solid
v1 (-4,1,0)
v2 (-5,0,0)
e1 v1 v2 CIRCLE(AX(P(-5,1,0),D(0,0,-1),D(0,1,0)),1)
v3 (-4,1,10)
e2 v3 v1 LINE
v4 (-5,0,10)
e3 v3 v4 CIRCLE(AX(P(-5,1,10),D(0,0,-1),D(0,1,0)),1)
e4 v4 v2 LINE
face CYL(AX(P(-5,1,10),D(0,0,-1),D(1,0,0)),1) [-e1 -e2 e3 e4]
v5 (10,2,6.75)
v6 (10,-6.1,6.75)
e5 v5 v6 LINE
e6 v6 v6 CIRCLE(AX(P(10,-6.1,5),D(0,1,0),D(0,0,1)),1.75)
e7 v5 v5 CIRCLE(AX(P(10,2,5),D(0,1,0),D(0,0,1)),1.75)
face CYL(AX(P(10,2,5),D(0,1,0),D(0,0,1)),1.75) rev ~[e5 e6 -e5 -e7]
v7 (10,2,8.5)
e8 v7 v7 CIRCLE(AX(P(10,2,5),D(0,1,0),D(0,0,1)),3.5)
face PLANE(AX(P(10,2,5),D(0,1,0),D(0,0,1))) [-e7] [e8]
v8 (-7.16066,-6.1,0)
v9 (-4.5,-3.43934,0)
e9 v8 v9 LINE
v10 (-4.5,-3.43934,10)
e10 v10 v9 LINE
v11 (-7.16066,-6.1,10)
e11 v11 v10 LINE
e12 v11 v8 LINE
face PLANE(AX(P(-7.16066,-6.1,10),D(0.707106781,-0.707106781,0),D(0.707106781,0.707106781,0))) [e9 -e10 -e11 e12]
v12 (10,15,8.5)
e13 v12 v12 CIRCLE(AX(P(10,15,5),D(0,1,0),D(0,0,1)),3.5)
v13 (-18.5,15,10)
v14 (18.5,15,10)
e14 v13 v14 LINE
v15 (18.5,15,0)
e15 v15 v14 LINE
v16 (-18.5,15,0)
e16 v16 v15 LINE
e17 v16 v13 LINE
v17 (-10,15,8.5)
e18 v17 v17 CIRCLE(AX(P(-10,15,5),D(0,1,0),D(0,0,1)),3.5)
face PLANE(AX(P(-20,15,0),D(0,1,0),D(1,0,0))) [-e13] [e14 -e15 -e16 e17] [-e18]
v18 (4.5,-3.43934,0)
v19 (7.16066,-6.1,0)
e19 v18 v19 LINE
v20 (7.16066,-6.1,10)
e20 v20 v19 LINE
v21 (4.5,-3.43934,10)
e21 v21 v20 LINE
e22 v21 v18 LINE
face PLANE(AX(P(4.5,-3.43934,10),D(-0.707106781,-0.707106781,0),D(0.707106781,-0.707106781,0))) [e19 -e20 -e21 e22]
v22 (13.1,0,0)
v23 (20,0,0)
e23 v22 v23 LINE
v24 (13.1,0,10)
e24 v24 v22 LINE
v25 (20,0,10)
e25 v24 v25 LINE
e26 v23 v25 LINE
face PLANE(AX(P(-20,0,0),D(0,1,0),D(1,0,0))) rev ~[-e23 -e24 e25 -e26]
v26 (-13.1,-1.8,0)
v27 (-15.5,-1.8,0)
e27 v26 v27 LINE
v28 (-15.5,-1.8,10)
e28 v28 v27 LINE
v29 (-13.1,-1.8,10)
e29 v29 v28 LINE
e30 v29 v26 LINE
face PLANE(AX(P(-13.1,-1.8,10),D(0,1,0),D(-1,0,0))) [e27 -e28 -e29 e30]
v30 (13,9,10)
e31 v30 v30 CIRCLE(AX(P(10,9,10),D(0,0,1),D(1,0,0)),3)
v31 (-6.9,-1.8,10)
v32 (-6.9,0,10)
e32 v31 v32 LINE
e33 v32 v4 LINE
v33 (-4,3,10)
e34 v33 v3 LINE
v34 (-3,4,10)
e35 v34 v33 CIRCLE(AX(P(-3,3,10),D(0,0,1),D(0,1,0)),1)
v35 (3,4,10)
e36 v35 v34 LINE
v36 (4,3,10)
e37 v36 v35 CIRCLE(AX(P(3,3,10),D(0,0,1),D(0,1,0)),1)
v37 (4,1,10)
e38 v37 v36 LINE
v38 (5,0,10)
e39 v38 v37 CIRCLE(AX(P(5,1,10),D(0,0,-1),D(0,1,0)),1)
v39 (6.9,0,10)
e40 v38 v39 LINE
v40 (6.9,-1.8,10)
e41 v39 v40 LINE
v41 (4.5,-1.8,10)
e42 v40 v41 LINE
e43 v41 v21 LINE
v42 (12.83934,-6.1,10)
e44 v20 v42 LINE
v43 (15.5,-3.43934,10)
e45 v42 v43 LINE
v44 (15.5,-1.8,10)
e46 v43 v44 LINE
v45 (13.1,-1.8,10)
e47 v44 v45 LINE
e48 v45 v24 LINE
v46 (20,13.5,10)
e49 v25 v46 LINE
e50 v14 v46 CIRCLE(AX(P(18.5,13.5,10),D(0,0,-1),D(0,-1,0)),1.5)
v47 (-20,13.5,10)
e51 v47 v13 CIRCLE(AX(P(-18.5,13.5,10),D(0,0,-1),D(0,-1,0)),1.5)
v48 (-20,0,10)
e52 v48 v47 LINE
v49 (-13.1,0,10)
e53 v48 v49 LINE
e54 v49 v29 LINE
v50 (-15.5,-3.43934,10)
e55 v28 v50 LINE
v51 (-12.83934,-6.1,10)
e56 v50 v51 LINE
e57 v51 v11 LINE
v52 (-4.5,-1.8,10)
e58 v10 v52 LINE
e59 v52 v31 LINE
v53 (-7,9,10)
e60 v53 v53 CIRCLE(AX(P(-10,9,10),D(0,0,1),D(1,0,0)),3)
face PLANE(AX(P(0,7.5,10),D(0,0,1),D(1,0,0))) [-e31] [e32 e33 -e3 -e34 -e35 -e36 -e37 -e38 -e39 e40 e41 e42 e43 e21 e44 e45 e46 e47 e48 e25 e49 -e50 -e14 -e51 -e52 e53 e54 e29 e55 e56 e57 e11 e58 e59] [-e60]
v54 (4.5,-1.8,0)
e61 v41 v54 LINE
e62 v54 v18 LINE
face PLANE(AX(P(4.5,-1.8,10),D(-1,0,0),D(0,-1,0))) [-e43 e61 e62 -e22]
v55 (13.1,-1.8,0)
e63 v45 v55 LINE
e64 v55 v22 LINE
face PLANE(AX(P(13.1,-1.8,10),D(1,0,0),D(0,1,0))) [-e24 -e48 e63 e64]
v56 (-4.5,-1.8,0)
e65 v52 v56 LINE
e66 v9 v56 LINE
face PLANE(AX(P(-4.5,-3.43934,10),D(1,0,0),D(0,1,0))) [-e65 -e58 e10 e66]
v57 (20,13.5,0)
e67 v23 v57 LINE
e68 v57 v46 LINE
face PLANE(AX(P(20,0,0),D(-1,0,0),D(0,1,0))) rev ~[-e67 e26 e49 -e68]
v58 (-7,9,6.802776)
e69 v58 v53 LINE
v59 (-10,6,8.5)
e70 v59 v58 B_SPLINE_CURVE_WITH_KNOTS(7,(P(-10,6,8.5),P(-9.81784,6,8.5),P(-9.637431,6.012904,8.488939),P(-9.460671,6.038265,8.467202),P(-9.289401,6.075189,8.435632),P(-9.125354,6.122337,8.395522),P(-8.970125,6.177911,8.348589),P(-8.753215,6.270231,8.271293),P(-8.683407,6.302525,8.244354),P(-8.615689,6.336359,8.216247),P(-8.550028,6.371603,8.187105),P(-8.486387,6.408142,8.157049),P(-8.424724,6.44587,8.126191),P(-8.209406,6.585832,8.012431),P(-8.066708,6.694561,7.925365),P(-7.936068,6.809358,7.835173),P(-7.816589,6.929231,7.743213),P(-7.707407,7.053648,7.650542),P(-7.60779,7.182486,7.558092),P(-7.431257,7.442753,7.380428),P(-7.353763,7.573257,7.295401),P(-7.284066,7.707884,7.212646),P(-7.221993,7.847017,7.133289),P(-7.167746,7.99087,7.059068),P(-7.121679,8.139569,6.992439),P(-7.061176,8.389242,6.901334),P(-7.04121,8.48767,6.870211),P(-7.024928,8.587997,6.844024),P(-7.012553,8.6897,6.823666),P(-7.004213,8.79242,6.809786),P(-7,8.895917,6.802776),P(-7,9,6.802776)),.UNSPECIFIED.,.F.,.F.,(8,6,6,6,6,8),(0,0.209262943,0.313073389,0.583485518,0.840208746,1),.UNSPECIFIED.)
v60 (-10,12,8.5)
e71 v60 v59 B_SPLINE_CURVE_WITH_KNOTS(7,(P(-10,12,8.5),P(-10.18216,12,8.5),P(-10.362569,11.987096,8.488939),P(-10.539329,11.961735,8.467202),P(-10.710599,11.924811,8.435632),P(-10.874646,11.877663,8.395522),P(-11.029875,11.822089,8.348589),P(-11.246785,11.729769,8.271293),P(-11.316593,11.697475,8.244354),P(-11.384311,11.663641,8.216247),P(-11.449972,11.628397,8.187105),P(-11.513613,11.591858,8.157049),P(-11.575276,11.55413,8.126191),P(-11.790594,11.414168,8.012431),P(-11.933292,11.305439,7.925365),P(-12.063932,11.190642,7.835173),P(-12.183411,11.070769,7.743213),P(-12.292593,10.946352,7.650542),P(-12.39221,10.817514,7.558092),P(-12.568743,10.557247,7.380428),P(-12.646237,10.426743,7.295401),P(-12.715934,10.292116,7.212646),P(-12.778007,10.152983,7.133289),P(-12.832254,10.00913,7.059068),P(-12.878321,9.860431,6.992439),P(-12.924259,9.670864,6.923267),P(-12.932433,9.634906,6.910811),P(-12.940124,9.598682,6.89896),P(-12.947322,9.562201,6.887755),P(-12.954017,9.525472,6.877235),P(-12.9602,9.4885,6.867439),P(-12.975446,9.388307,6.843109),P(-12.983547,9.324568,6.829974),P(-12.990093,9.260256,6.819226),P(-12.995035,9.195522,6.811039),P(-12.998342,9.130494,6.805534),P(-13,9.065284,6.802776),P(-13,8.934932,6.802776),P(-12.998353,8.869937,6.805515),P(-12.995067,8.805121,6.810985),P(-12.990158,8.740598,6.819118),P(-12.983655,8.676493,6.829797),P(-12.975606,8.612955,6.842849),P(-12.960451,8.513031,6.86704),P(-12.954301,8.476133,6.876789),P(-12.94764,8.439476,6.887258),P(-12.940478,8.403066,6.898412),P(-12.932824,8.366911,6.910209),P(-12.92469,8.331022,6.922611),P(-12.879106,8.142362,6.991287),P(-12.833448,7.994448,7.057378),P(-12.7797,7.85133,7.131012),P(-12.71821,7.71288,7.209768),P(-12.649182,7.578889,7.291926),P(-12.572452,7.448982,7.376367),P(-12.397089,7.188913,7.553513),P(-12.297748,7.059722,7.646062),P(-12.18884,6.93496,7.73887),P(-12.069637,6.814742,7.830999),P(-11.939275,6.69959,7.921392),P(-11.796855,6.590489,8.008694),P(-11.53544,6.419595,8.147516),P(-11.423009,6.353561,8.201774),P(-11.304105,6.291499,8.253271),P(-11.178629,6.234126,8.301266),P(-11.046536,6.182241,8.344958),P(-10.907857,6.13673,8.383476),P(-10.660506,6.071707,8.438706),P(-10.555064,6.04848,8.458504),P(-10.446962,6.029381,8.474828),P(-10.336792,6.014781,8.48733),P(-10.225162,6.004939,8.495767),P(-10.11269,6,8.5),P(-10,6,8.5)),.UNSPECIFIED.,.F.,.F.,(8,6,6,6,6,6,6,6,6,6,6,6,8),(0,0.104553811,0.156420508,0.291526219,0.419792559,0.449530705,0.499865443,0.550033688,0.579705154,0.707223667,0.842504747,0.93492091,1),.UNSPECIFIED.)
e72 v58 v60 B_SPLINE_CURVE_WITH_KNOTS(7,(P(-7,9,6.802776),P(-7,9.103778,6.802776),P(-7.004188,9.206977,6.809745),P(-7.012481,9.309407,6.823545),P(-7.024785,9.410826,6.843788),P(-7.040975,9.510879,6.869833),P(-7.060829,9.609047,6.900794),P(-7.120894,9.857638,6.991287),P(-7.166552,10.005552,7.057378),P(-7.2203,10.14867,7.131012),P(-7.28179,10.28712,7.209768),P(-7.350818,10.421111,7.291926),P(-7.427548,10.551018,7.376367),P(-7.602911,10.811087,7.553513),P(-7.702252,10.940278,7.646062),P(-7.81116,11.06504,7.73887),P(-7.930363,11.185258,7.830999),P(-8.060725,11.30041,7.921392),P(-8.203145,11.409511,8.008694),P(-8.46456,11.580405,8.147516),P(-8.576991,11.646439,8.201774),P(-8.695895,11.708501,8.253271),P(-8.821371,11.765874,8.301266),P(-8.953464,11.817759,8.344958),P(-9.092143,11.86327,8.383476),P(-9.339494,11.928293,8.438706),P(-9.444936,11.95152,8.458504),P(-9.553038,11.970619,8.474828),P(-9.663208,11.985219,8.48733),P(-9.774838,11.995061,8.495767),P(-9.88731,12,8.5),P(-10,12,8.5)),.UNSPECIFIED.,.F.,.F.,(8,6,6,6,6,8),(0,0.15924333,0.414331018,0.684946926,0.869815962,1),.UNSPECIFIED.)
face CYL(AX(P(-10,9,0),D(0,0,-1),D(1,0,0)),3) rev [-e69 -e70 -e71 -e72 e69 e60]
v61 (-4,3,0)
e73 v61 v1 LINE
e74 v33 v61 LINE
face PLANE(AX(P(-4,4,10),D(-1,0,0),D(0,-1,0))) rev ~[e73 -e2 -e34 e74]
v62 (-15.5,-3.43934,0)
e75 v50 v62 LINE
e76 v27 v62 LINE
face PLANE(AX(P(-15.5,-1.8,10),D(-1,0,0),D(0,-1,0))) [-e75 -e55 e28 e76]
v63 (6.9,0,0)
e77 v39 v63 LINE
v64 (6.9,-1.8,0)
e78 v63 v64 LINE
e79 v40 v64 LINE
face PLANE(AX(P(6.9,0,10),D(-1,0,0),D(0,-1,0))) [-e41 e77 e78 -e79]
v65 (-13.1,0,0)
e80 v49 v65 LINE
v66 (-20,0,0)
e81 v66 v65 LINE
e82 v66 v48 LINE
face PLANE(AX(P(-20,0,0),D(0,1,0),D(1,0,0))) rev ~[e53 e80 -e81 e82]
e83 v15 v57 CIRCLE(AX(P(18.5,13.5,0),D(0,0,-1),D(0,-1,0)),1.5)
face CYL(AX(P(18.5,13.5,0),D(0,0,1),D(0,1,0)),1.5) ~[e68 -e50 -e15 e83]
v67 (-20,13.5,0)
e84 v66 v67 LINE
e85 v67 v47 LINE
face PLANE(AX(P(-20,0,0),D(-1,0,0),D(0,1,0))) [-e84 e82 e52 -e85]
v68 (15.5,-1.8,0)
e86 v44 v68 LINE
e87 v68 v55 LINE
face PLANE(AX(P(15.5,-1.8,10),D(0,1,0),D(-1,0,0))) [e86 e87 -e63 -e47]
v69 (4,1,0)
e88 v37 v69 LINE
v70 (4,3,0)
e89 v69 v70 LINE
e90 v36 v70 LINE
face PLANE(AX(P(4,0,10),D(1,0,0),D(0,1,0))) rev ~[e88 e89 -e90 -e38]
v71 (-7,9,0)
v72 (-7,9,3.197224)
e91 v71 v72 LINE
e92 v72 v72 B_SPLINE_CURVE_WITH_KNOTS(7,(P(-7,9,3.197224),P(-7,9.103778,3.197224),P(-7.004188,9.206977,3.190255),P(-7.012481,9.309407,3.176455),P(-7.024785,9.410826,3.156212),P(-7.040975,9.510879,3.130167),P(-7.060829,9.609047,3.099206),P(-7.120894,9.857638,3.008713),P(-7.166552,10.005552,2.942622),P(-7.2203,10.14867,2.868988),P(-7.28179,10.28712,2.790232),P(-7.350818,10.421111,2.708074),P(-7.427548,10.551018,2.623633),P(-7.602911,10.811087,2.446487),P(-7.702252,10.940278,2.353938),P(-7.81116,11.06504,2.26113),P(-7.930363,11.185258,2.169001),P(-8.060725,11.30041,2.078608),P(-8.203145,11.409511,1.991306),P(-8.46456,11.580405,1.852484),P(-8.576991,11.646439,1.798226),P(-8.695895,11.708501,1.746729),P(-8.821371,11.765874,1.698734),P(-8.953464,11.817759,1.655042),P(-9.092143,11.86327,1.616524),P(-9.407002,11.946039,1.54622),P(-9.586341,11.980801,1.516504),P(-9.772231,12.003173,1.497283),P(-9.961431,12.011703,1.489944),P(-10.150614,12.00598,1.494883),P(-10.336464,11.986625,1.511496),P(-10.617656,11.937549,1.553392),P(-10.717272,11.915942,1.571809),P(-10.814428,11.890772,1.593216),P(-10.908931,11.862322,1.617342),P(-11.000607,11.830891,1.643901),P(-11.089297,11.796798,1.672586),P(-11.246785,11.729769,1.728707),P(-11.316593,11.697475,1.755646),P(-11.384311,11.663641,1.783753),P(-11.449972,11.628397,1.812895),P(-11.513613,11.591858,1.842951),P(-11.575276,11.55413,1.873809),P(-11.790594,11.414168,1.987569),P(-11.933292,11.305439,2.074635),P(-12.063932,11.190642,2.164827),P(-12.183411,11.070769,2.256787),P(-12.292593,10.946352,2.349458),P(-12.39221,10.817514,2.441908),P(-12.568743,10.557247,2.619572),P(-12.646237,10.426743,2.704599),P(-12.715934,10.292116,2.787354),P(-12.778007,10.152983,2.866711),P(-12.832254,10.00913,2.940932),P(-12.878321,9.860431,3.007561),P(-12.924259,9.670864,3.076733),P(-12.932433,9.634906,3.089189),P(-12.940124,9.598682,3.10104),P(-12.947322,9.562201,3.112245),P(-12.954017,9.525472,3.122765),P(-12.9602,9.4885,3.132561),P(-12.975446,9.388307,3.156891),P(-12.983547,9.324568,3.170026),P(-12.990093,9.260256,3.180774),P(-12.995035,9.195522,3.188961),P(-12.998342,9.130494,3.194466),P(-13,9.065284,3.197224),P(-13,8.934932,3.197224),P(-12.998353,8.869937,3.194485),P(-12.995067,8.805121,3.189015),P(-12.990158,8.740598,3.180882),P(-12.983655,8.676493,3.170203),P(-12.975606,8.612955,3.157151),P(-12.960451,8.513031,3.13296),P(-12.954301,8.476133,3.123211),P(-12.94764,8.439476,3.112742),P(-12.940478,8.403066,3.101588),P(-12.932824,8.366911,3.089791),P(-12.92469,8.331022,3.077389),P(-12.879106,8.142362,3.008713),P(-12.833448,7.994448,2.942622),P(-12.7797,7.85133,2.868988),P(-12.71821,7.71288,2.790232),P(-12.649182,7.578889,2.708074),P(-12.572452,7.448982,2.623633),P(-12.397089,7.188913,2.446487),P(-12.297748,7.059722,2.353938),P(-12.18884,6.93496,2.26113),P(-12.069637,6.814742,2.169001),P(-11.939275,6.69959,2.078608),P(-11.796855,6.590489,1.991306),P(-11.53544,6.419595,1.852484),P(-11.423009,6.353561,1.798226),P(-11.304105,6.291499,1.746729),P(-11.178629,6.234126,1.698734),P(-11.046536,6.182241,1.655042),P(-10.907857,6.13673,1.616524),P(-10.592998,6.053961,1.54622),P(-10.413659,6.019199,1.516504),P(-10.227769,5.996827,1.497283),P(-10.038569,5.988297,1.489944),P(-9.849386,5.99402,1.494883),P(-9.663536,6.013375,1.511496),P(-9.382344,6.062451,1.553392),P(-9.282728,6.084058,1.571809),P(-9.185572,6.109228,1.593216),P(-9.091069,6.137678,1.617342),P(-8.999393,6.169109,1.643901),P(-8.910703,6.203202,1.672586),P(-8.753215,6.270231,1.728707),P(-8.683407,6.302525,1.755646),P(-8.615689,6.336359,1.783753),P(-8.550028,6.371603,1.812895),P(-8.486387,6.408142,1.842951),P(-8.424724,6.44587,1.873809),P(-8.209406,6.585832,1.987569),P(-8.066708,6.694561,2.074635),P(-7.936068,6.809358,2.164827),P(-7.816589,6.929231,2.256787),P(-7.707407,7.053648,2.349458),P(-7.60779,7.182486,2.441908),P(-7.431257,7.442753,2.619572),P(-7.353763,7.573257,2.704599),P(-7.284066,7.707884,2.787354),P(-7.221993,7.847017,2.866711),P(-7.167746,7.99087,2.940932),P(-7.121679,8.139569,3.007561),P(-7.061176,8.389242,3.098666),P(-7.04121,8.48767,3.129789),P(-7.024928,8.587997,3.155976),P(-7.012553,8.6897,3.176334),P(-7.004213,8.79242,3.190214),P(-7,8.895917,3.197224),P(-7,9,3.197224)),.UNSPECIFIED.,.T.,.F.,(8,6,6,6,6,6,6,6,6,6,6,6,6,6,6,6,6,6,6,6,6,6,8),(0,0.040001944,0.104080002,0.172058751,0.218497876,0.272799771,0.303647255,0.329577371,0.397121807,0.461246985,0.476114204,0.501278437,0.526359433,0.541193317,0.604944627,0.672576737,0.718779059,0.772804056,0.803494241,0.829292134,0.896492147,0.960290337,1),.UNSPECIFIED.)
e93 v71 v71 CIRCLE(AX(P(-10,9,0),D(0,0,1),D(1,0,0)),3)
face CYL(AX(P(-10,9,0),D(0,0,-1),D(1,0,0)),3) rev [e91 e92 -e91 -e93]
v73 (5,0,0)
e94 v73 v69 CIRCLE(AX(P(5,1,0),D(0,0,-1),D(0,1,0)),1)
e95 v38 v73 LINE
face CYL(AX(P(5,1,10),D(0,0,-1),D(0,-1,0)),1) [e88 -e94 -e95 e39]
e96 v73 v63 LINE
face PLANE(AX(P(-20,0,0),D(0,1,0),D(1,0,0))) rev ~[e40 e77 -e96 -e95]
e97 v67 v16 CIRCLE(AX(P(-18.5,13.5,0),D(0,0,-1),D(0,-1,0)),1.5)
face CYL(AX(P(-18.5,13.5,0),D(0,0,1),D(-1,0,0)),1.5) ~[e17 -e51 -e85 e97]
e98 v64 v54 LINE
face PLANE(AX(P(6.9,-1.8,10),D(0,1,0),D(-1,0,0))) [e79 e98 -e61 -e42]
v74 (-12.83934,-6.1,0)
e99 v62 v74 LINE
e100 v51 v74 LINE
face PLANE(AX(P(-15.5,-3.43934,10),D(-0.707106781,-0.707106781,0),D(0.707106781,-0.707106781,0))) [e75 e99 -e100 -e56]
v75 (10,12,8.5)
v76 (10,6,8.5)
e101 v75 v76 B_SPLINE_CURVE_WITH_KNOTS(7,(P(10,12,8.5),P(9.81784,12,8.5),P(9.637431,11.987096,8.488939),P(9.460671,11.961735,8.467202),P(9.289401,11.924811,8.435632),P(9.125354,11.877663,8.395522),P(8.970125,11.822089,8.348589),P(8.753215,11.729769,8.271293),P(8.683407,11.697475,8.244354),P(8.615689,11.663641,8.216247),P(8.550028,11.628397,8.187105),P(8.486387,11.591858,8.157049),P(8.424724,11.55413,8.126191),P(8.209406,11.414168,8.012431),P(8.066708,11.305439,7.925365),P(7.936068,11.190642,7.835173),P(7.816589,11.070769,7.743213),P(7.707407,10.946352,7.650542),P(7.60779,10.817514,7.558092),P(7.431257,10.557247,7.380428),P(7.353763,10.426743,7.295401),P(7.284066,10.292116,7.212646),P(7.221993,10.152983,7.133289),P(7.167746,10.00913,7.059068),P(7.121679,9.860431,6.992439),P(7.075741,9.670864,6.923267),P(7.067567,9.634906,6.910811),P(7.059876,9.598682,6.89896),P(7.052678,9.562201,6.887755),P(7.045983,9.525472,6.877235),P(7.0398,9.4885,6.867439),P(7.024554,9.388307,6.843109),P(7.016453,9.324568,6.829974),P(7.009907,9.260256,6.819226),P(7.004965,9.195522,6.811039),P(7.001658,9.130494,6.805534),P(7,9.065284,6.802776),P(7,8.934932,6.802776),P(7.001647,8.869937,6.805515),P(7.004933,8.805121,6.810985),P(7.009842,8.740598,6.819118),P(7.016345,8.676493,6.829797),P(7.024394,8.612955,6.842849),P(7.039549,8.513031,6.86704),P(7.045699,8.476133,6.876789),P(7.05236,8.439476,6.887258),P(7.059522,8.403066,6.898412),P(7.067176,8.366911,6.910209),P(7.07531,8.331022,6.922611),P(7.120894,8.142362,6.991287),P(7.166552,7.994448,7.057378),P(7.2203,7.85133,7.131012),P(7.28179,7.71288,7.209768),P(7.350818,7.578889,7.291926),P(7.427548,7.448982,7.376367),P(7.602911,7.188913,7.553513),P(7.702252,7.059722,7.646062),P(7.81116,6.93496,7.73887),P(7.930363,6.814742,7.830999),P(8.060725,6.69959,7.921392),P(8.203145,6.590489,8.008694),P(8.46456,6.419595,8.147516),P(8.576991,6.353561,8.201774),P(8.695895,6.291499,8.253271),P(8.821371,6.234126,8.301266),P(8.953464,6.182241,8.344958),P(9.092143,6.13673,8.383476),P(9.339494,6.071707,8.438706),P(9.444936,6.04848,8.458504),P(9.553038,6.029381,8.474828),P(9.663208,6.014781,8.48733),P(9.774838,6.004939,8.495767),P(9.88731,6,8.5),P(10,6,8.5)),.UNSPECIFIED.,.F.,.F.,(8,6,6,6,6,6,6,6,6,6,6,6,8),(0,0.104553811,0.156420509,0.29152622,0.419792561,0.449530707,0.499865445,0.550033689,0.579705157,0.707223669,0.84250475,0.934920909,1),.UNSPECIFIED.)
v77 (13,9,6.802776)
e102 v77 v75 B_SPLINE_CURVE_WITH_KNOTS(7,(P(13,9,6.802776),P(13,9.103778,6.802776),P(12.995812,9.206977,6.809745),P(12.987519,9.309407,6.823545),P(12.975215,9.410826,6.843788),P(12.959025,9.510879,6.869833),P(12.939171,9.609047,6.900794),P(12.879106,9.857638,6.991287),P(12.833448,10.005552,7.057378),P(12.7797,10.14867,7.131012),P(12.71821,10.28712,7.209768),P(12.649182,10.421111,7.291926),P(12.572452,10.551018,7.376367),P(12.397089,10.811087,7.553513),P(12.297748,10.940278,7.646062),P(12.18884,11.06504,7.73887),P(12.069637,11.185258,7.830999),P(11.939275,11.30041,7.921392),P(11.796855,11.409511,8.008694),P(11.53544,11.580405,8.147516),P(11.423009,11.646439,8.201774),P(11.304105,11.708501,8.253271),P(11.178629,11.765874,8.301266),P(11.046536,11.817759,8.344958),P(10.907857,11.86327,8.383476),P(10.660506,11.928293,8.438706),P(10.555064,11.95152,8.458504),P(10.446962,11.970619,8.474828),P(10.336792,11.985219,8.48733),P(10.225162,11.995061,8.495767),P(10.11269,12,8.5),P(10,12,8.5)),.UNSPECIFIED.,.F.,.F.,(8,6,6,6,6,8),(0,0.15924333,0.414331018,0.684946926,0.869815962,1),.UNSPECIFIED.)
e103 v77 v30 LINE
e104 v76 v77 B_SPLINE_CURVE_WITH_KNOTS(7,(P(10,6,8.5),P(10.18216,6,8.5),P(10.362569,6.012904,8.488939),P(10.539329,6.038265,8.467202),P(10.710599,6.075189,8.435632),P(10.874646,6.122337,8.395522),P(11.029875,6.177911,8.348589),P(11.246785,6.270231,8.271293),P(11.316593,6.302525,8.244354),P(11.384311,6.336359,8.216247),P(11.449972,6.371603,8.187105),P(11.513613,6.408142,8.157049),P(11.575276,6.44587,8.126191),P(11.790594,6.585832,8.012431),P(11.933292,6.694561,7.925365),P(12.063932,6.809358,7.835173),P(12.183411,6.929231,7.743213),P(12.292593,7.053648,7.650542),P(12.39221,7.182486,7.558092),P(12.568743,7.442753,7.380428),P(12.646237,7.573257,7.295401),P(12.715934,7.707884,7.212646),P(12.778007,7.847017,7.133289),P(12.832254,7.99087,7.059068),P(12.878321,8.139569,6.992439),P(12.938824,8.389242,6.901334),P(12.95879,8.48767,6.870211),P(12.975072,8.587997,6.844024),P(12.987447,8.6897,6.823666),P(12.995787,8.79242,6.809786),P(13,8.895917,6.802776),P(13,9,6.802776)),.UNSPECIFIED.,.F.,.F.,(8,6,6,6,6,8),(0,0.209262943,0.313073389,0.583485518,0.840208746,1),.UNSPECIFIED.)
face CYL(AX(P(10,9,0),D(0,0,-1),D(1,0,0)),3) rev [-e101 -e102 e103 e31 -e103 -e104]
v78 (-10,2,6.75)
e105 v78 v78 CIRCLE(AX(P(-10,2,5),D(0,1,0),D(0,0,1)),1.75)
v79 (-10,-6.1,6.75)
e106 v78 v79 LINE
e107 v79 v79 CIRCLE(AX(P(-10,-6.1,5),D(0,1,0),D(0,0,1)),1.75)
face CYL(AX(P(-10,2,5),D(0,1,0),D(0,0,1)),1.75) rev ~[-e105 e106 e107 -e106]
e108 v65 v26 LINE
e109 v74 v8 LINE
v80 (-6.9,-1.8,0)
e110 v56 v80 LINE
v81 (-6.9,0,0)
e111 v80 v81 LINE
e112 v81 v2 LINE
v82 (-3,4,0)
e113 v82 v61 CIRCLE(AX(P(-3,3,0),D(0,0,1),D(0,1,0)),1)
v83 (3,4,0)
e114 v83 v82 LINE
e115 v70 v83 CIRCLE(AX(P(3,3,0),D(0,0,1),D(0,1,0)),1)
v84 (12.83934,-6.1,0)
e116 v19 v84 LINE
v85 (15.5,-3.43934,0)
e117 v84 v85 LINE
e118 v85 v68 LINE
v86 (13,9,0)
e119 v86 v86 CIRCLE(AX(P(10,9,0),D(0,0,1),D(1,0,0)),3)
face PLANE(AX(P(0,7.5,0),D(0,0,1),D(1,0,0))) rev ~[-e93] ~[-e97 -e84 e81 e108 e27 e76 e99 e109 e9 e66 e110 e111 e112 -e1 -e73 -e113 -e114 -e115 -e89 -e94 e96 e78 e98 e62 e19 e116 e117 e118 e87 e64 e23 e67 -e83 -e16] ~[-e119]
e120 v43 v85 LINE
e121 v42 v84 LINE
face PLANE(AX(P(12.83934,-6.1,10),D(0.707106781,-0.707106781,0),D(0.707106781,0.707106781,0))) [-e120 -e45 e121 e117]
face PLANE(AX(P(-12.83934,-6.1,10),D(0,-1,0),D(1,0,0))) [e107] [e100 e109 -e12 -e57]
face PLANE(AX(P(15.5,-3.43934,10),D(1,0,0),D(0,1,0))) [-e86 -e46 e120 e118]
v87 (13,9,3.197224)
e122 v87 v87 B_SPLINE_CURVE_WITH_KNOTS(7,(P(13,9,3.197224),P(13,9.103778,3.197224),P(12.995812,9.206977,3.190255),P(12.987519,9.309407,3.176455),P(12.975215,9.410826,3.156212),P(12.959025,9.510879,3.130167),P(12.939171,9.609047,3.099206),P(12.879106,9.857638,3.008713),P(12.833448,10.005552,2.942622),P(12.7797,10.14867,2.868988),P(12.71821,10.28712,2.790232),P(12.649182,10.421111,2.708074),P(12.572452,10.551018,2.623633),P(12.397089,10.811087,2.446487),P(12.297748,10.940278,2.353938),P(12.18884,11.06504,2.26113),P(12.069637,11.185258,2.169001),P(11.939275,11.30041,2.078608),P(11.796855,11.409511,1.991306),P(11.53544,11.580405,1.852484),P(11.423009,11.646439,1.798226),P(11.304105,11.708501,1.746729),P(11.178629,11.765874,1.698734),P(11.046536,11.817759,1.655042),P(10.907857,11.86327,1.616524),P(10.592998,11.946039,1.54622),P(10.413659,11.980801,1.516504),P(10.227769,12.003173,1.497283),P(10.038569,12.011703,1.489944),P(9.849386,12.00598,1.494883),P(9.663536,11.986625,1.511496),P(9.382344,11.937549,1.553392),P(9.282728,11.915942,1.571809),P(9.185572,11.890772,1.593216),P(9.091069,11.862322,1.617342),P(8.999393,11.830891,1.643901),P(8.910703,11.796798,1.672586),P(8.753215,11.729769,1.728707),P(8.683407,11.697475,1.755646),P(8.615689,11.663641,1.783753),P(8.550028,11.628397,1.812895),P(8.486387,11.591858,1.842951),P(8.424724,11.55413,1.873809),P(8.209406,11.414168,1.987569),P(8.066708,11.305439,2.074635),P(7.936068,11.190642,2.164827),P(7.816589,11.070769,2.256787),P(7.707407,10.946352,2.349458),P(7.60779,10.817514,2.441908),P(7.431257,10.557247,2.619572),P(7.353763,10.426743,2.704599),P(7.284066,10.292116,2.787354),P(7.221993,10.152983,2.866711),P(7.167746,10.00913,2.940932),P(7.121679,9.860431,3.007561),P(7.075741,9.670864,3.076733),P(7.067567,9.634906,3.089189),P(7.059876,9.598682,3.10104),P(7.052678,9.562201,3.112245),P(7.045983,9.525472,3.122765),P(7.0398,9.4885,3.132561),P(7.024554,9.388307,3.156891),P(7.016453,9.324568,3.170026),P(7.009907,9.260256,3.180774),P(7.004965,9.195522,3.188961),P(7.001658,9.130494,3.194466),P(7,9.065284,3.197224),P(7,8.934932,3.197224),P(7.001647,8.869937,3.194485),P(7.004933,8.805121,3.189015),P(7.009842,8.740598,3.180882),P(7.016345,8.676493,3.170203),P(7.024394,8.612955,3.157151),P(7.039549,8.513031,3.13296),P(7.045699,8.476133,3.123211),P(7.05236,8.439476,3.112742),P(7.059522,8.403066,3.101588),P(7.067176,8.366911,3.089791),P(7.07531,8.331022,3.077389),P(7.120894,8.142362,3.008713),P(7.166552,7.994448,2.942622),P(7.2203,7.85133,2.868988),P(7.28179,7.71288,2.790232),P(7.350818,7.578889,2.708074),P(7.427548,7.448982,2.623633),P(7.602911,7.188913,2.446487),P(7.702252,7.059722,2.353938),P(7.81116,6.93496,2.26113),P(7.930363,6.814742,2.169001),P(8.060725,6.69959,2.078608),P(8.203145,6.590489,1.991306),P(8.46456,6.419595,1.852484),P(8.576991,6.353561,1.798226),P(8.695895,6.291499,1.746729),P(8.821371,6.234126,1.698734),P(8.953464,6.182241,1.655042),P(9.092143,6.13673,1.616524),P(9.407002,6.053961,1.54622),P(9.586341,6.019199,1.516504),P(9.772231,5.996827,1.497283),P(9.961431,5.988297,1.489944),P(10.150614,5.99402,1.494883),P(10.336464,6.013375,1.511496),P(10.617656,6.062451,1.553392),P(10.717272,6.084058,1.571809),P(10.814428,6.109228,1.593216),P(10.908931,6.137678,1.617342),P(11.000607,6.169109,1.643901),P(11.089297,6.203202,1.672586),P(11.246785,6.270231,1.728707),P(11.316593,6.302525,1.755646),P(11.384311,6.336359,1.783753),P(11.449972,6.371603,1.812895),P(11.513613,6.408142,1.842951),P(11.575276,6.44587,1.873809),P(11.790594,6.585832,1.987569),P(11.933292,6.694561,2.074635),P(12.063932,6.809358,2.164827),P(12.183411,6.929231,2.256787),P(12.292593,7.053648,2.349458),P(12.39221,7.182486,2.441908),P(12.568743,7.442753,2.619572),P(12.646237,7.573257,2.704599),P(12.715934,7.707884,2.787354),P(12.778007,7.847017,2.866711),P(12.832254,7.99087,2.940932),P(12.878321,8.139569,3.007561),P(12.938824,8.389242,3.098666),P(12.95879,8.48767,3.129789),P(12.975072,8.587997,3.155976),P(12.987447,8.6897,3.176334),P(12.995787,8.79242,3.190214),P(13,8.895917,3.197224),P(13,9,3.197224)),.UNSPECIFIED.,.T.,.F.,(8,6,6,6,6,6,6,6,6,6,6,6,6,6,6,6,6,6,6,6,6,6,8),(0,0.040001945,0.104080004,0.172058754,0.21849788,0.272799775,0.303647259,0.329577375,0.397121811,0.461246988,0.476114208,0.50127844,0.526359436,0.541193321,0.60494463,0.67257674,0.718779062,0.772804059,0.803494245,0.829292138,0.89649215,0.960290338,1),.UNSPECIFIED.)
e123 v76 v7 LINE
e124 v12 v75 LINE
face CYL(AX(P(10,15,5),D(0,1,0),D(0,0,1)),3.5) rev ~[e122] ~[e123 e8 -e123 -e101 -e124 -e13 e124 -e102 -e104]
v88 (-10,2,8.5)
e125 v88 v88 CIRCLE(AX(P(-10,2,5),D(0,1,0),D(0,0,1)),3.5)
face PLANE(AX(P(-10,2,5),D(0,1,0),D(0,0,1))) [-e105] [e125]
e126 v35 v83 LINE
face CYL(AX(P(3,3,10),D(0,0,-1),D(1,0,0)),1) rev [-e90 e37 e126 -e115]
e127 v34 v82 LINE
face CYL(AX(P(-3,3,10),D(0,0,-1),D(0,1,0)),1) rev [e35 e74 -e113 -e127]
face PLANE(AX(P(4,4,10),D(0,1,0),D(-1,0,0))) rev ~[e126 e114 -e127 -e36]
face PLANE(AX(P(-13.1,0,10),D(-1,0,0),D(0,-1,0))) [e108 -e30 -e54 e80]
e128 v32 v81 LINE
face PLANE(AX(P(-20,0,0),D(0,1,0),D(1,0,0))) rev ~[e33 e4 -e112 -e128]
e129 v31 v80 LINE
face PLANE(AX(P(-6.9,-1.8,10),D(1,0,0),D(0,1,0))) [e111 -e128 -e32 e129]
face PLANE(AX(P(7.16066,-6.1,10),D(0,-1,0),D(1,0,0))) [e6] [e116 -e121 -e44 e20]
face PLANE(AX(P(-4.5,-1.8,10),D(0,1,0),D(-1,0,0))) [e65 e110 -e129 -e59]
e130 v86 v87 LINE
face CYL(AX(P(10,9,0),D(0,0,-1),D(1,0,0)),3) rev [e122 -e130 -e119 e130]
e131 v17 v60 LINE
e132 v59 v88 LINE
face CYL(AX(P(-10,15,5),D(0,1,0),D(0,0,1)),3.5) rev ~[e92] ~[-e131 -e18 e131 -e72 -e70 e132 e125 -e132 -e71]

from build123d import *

# Parameters (mm, degrees)
SKETCH_1_W          = 40
SKETCH_1_H          = 15
SKETCH_1_R          = 3
EXTRUDE_1_DEPTH     = 10
EXTRUDE_2_DEPTH     = 10
FILLET_1_R          = 1.5
SKETCH_5_R          = 3.5
CUT_EXTRUDE_1_DEPTH = 13
SKETCH_6_R          = 1.75
CUT_EXTRUDE_2_DEPTH = 13
CUT_EXTRUDE_3_DEPTH = 13
FILLET_2_R          = 1


with BuildPart() as part:
    # 草图1 → 凸台-拉伸1 (new body)
    with BuildSketch(Plane.XY):
        with Locations((0, 7.5)):
            Rectangle(SKETCH_1_W, SKETCH_1_H)
        with Locations((-10, 9)):
            Circle(SKETCH_1_R, mode=Mode.SUBTRACT)
        with Locations((10, 9)):
            Circle(SKETCH_1_R, mode=Mode.SUBTRACT)
    extrude(amount=EXTRUDE_1_DEPTH)

    # 草图4 → 凸台-拉伸2 (add)
    with BuildSketch(Plane.XY.offset(10)):
        Polygon((-6.9, -1.8), (-6.9, 0), (-13.1, 0), (-13.1, -1.8), (-15.5, -1.8), (-15.5, -3.439339828), (-12.839339828, -6.1), (-7.160660172, -6.1), (-4.5, -3.439339828), (-4.5, -1.8), align=None)
        Polygon((13.1, -1.8), (13.1, 0), (6.9, 0), (6.9, -1.8), (4.5, -1.8), (4.5, -3.439339828), (7.160660172, -6.1), (12.839339828, -6.1), (15.5, -3.439339828), (15.5, -1.8), align=None)
    extrude(amount=-EXTRUDE_2_DEPTH)

    # 圆角1
    fillet_1_edges = [part.edges().sort_by_distance(p)[0] for p in [
        (20, 15, 5),
        (-20, 15, 5),
    ]]
    fillet(fillet_1_edges, radius=FILLET_1_R)

    # 草图5 → 切除-拉伸1 (cut)
    with BuildSketch(Plane(origin=(0, 15, 0), x_dir=(1, 0, 0), z_dir=(0, 1, 0))):
        with Locations(Location((-10, -5, 0), (0, 0, 270))):
            Circle(SKETCH_5_R)
        with Locations(Location((10, -5, 0), (0, 0, 270))):
            Circle(SKETCH_5_R)
    extrude(amount=-CUT_EXTRUDE_1_DEPTH, mode=Mode.SUBTRACT)

    # 草图6 → 切除-拉伸2 (cut)
    with BuildSketch(Plane(origin=(0, 2, 0), x_dir=(1, 0, 0), z_dir=(0, 1, 0))):
        with Locations(Location((10, -5, 0), (0, 0, 270))):
            Circle(SKETCH_6_R)
        with Locations(Location((-10, -5, 0), (0, 0, 270))):
            Circle(SKETCH_6_R)
    extrude(amount=-CUT_EXTRUDE_2_DEPTH, mode=Mode.SUBTRACT)

    # 草图7 → 切除-拉伸3 (cut)
    with BuildSketch(Plane.XY.offset(10)):
        Polygon((0, 4), (-4, 4), (-4, 0), (4, 0), (4, 4), align=None)
    extrude(amount=-CUT_EXTRUDE_3_DEPTH, mode=Mode.SUBTRACT)

    # 圆角2
    fillet_2_edges = [part.edges().sort_by_distance(p)[0] for p in [
        (4, 4, 5),
        (4, 0, 5),
        (-4, 0, 5),
        (-4, 4, 5),
    ]]
    fillet(fillet_2_edges, radius=FILLET_2_R)


solid = part.part
